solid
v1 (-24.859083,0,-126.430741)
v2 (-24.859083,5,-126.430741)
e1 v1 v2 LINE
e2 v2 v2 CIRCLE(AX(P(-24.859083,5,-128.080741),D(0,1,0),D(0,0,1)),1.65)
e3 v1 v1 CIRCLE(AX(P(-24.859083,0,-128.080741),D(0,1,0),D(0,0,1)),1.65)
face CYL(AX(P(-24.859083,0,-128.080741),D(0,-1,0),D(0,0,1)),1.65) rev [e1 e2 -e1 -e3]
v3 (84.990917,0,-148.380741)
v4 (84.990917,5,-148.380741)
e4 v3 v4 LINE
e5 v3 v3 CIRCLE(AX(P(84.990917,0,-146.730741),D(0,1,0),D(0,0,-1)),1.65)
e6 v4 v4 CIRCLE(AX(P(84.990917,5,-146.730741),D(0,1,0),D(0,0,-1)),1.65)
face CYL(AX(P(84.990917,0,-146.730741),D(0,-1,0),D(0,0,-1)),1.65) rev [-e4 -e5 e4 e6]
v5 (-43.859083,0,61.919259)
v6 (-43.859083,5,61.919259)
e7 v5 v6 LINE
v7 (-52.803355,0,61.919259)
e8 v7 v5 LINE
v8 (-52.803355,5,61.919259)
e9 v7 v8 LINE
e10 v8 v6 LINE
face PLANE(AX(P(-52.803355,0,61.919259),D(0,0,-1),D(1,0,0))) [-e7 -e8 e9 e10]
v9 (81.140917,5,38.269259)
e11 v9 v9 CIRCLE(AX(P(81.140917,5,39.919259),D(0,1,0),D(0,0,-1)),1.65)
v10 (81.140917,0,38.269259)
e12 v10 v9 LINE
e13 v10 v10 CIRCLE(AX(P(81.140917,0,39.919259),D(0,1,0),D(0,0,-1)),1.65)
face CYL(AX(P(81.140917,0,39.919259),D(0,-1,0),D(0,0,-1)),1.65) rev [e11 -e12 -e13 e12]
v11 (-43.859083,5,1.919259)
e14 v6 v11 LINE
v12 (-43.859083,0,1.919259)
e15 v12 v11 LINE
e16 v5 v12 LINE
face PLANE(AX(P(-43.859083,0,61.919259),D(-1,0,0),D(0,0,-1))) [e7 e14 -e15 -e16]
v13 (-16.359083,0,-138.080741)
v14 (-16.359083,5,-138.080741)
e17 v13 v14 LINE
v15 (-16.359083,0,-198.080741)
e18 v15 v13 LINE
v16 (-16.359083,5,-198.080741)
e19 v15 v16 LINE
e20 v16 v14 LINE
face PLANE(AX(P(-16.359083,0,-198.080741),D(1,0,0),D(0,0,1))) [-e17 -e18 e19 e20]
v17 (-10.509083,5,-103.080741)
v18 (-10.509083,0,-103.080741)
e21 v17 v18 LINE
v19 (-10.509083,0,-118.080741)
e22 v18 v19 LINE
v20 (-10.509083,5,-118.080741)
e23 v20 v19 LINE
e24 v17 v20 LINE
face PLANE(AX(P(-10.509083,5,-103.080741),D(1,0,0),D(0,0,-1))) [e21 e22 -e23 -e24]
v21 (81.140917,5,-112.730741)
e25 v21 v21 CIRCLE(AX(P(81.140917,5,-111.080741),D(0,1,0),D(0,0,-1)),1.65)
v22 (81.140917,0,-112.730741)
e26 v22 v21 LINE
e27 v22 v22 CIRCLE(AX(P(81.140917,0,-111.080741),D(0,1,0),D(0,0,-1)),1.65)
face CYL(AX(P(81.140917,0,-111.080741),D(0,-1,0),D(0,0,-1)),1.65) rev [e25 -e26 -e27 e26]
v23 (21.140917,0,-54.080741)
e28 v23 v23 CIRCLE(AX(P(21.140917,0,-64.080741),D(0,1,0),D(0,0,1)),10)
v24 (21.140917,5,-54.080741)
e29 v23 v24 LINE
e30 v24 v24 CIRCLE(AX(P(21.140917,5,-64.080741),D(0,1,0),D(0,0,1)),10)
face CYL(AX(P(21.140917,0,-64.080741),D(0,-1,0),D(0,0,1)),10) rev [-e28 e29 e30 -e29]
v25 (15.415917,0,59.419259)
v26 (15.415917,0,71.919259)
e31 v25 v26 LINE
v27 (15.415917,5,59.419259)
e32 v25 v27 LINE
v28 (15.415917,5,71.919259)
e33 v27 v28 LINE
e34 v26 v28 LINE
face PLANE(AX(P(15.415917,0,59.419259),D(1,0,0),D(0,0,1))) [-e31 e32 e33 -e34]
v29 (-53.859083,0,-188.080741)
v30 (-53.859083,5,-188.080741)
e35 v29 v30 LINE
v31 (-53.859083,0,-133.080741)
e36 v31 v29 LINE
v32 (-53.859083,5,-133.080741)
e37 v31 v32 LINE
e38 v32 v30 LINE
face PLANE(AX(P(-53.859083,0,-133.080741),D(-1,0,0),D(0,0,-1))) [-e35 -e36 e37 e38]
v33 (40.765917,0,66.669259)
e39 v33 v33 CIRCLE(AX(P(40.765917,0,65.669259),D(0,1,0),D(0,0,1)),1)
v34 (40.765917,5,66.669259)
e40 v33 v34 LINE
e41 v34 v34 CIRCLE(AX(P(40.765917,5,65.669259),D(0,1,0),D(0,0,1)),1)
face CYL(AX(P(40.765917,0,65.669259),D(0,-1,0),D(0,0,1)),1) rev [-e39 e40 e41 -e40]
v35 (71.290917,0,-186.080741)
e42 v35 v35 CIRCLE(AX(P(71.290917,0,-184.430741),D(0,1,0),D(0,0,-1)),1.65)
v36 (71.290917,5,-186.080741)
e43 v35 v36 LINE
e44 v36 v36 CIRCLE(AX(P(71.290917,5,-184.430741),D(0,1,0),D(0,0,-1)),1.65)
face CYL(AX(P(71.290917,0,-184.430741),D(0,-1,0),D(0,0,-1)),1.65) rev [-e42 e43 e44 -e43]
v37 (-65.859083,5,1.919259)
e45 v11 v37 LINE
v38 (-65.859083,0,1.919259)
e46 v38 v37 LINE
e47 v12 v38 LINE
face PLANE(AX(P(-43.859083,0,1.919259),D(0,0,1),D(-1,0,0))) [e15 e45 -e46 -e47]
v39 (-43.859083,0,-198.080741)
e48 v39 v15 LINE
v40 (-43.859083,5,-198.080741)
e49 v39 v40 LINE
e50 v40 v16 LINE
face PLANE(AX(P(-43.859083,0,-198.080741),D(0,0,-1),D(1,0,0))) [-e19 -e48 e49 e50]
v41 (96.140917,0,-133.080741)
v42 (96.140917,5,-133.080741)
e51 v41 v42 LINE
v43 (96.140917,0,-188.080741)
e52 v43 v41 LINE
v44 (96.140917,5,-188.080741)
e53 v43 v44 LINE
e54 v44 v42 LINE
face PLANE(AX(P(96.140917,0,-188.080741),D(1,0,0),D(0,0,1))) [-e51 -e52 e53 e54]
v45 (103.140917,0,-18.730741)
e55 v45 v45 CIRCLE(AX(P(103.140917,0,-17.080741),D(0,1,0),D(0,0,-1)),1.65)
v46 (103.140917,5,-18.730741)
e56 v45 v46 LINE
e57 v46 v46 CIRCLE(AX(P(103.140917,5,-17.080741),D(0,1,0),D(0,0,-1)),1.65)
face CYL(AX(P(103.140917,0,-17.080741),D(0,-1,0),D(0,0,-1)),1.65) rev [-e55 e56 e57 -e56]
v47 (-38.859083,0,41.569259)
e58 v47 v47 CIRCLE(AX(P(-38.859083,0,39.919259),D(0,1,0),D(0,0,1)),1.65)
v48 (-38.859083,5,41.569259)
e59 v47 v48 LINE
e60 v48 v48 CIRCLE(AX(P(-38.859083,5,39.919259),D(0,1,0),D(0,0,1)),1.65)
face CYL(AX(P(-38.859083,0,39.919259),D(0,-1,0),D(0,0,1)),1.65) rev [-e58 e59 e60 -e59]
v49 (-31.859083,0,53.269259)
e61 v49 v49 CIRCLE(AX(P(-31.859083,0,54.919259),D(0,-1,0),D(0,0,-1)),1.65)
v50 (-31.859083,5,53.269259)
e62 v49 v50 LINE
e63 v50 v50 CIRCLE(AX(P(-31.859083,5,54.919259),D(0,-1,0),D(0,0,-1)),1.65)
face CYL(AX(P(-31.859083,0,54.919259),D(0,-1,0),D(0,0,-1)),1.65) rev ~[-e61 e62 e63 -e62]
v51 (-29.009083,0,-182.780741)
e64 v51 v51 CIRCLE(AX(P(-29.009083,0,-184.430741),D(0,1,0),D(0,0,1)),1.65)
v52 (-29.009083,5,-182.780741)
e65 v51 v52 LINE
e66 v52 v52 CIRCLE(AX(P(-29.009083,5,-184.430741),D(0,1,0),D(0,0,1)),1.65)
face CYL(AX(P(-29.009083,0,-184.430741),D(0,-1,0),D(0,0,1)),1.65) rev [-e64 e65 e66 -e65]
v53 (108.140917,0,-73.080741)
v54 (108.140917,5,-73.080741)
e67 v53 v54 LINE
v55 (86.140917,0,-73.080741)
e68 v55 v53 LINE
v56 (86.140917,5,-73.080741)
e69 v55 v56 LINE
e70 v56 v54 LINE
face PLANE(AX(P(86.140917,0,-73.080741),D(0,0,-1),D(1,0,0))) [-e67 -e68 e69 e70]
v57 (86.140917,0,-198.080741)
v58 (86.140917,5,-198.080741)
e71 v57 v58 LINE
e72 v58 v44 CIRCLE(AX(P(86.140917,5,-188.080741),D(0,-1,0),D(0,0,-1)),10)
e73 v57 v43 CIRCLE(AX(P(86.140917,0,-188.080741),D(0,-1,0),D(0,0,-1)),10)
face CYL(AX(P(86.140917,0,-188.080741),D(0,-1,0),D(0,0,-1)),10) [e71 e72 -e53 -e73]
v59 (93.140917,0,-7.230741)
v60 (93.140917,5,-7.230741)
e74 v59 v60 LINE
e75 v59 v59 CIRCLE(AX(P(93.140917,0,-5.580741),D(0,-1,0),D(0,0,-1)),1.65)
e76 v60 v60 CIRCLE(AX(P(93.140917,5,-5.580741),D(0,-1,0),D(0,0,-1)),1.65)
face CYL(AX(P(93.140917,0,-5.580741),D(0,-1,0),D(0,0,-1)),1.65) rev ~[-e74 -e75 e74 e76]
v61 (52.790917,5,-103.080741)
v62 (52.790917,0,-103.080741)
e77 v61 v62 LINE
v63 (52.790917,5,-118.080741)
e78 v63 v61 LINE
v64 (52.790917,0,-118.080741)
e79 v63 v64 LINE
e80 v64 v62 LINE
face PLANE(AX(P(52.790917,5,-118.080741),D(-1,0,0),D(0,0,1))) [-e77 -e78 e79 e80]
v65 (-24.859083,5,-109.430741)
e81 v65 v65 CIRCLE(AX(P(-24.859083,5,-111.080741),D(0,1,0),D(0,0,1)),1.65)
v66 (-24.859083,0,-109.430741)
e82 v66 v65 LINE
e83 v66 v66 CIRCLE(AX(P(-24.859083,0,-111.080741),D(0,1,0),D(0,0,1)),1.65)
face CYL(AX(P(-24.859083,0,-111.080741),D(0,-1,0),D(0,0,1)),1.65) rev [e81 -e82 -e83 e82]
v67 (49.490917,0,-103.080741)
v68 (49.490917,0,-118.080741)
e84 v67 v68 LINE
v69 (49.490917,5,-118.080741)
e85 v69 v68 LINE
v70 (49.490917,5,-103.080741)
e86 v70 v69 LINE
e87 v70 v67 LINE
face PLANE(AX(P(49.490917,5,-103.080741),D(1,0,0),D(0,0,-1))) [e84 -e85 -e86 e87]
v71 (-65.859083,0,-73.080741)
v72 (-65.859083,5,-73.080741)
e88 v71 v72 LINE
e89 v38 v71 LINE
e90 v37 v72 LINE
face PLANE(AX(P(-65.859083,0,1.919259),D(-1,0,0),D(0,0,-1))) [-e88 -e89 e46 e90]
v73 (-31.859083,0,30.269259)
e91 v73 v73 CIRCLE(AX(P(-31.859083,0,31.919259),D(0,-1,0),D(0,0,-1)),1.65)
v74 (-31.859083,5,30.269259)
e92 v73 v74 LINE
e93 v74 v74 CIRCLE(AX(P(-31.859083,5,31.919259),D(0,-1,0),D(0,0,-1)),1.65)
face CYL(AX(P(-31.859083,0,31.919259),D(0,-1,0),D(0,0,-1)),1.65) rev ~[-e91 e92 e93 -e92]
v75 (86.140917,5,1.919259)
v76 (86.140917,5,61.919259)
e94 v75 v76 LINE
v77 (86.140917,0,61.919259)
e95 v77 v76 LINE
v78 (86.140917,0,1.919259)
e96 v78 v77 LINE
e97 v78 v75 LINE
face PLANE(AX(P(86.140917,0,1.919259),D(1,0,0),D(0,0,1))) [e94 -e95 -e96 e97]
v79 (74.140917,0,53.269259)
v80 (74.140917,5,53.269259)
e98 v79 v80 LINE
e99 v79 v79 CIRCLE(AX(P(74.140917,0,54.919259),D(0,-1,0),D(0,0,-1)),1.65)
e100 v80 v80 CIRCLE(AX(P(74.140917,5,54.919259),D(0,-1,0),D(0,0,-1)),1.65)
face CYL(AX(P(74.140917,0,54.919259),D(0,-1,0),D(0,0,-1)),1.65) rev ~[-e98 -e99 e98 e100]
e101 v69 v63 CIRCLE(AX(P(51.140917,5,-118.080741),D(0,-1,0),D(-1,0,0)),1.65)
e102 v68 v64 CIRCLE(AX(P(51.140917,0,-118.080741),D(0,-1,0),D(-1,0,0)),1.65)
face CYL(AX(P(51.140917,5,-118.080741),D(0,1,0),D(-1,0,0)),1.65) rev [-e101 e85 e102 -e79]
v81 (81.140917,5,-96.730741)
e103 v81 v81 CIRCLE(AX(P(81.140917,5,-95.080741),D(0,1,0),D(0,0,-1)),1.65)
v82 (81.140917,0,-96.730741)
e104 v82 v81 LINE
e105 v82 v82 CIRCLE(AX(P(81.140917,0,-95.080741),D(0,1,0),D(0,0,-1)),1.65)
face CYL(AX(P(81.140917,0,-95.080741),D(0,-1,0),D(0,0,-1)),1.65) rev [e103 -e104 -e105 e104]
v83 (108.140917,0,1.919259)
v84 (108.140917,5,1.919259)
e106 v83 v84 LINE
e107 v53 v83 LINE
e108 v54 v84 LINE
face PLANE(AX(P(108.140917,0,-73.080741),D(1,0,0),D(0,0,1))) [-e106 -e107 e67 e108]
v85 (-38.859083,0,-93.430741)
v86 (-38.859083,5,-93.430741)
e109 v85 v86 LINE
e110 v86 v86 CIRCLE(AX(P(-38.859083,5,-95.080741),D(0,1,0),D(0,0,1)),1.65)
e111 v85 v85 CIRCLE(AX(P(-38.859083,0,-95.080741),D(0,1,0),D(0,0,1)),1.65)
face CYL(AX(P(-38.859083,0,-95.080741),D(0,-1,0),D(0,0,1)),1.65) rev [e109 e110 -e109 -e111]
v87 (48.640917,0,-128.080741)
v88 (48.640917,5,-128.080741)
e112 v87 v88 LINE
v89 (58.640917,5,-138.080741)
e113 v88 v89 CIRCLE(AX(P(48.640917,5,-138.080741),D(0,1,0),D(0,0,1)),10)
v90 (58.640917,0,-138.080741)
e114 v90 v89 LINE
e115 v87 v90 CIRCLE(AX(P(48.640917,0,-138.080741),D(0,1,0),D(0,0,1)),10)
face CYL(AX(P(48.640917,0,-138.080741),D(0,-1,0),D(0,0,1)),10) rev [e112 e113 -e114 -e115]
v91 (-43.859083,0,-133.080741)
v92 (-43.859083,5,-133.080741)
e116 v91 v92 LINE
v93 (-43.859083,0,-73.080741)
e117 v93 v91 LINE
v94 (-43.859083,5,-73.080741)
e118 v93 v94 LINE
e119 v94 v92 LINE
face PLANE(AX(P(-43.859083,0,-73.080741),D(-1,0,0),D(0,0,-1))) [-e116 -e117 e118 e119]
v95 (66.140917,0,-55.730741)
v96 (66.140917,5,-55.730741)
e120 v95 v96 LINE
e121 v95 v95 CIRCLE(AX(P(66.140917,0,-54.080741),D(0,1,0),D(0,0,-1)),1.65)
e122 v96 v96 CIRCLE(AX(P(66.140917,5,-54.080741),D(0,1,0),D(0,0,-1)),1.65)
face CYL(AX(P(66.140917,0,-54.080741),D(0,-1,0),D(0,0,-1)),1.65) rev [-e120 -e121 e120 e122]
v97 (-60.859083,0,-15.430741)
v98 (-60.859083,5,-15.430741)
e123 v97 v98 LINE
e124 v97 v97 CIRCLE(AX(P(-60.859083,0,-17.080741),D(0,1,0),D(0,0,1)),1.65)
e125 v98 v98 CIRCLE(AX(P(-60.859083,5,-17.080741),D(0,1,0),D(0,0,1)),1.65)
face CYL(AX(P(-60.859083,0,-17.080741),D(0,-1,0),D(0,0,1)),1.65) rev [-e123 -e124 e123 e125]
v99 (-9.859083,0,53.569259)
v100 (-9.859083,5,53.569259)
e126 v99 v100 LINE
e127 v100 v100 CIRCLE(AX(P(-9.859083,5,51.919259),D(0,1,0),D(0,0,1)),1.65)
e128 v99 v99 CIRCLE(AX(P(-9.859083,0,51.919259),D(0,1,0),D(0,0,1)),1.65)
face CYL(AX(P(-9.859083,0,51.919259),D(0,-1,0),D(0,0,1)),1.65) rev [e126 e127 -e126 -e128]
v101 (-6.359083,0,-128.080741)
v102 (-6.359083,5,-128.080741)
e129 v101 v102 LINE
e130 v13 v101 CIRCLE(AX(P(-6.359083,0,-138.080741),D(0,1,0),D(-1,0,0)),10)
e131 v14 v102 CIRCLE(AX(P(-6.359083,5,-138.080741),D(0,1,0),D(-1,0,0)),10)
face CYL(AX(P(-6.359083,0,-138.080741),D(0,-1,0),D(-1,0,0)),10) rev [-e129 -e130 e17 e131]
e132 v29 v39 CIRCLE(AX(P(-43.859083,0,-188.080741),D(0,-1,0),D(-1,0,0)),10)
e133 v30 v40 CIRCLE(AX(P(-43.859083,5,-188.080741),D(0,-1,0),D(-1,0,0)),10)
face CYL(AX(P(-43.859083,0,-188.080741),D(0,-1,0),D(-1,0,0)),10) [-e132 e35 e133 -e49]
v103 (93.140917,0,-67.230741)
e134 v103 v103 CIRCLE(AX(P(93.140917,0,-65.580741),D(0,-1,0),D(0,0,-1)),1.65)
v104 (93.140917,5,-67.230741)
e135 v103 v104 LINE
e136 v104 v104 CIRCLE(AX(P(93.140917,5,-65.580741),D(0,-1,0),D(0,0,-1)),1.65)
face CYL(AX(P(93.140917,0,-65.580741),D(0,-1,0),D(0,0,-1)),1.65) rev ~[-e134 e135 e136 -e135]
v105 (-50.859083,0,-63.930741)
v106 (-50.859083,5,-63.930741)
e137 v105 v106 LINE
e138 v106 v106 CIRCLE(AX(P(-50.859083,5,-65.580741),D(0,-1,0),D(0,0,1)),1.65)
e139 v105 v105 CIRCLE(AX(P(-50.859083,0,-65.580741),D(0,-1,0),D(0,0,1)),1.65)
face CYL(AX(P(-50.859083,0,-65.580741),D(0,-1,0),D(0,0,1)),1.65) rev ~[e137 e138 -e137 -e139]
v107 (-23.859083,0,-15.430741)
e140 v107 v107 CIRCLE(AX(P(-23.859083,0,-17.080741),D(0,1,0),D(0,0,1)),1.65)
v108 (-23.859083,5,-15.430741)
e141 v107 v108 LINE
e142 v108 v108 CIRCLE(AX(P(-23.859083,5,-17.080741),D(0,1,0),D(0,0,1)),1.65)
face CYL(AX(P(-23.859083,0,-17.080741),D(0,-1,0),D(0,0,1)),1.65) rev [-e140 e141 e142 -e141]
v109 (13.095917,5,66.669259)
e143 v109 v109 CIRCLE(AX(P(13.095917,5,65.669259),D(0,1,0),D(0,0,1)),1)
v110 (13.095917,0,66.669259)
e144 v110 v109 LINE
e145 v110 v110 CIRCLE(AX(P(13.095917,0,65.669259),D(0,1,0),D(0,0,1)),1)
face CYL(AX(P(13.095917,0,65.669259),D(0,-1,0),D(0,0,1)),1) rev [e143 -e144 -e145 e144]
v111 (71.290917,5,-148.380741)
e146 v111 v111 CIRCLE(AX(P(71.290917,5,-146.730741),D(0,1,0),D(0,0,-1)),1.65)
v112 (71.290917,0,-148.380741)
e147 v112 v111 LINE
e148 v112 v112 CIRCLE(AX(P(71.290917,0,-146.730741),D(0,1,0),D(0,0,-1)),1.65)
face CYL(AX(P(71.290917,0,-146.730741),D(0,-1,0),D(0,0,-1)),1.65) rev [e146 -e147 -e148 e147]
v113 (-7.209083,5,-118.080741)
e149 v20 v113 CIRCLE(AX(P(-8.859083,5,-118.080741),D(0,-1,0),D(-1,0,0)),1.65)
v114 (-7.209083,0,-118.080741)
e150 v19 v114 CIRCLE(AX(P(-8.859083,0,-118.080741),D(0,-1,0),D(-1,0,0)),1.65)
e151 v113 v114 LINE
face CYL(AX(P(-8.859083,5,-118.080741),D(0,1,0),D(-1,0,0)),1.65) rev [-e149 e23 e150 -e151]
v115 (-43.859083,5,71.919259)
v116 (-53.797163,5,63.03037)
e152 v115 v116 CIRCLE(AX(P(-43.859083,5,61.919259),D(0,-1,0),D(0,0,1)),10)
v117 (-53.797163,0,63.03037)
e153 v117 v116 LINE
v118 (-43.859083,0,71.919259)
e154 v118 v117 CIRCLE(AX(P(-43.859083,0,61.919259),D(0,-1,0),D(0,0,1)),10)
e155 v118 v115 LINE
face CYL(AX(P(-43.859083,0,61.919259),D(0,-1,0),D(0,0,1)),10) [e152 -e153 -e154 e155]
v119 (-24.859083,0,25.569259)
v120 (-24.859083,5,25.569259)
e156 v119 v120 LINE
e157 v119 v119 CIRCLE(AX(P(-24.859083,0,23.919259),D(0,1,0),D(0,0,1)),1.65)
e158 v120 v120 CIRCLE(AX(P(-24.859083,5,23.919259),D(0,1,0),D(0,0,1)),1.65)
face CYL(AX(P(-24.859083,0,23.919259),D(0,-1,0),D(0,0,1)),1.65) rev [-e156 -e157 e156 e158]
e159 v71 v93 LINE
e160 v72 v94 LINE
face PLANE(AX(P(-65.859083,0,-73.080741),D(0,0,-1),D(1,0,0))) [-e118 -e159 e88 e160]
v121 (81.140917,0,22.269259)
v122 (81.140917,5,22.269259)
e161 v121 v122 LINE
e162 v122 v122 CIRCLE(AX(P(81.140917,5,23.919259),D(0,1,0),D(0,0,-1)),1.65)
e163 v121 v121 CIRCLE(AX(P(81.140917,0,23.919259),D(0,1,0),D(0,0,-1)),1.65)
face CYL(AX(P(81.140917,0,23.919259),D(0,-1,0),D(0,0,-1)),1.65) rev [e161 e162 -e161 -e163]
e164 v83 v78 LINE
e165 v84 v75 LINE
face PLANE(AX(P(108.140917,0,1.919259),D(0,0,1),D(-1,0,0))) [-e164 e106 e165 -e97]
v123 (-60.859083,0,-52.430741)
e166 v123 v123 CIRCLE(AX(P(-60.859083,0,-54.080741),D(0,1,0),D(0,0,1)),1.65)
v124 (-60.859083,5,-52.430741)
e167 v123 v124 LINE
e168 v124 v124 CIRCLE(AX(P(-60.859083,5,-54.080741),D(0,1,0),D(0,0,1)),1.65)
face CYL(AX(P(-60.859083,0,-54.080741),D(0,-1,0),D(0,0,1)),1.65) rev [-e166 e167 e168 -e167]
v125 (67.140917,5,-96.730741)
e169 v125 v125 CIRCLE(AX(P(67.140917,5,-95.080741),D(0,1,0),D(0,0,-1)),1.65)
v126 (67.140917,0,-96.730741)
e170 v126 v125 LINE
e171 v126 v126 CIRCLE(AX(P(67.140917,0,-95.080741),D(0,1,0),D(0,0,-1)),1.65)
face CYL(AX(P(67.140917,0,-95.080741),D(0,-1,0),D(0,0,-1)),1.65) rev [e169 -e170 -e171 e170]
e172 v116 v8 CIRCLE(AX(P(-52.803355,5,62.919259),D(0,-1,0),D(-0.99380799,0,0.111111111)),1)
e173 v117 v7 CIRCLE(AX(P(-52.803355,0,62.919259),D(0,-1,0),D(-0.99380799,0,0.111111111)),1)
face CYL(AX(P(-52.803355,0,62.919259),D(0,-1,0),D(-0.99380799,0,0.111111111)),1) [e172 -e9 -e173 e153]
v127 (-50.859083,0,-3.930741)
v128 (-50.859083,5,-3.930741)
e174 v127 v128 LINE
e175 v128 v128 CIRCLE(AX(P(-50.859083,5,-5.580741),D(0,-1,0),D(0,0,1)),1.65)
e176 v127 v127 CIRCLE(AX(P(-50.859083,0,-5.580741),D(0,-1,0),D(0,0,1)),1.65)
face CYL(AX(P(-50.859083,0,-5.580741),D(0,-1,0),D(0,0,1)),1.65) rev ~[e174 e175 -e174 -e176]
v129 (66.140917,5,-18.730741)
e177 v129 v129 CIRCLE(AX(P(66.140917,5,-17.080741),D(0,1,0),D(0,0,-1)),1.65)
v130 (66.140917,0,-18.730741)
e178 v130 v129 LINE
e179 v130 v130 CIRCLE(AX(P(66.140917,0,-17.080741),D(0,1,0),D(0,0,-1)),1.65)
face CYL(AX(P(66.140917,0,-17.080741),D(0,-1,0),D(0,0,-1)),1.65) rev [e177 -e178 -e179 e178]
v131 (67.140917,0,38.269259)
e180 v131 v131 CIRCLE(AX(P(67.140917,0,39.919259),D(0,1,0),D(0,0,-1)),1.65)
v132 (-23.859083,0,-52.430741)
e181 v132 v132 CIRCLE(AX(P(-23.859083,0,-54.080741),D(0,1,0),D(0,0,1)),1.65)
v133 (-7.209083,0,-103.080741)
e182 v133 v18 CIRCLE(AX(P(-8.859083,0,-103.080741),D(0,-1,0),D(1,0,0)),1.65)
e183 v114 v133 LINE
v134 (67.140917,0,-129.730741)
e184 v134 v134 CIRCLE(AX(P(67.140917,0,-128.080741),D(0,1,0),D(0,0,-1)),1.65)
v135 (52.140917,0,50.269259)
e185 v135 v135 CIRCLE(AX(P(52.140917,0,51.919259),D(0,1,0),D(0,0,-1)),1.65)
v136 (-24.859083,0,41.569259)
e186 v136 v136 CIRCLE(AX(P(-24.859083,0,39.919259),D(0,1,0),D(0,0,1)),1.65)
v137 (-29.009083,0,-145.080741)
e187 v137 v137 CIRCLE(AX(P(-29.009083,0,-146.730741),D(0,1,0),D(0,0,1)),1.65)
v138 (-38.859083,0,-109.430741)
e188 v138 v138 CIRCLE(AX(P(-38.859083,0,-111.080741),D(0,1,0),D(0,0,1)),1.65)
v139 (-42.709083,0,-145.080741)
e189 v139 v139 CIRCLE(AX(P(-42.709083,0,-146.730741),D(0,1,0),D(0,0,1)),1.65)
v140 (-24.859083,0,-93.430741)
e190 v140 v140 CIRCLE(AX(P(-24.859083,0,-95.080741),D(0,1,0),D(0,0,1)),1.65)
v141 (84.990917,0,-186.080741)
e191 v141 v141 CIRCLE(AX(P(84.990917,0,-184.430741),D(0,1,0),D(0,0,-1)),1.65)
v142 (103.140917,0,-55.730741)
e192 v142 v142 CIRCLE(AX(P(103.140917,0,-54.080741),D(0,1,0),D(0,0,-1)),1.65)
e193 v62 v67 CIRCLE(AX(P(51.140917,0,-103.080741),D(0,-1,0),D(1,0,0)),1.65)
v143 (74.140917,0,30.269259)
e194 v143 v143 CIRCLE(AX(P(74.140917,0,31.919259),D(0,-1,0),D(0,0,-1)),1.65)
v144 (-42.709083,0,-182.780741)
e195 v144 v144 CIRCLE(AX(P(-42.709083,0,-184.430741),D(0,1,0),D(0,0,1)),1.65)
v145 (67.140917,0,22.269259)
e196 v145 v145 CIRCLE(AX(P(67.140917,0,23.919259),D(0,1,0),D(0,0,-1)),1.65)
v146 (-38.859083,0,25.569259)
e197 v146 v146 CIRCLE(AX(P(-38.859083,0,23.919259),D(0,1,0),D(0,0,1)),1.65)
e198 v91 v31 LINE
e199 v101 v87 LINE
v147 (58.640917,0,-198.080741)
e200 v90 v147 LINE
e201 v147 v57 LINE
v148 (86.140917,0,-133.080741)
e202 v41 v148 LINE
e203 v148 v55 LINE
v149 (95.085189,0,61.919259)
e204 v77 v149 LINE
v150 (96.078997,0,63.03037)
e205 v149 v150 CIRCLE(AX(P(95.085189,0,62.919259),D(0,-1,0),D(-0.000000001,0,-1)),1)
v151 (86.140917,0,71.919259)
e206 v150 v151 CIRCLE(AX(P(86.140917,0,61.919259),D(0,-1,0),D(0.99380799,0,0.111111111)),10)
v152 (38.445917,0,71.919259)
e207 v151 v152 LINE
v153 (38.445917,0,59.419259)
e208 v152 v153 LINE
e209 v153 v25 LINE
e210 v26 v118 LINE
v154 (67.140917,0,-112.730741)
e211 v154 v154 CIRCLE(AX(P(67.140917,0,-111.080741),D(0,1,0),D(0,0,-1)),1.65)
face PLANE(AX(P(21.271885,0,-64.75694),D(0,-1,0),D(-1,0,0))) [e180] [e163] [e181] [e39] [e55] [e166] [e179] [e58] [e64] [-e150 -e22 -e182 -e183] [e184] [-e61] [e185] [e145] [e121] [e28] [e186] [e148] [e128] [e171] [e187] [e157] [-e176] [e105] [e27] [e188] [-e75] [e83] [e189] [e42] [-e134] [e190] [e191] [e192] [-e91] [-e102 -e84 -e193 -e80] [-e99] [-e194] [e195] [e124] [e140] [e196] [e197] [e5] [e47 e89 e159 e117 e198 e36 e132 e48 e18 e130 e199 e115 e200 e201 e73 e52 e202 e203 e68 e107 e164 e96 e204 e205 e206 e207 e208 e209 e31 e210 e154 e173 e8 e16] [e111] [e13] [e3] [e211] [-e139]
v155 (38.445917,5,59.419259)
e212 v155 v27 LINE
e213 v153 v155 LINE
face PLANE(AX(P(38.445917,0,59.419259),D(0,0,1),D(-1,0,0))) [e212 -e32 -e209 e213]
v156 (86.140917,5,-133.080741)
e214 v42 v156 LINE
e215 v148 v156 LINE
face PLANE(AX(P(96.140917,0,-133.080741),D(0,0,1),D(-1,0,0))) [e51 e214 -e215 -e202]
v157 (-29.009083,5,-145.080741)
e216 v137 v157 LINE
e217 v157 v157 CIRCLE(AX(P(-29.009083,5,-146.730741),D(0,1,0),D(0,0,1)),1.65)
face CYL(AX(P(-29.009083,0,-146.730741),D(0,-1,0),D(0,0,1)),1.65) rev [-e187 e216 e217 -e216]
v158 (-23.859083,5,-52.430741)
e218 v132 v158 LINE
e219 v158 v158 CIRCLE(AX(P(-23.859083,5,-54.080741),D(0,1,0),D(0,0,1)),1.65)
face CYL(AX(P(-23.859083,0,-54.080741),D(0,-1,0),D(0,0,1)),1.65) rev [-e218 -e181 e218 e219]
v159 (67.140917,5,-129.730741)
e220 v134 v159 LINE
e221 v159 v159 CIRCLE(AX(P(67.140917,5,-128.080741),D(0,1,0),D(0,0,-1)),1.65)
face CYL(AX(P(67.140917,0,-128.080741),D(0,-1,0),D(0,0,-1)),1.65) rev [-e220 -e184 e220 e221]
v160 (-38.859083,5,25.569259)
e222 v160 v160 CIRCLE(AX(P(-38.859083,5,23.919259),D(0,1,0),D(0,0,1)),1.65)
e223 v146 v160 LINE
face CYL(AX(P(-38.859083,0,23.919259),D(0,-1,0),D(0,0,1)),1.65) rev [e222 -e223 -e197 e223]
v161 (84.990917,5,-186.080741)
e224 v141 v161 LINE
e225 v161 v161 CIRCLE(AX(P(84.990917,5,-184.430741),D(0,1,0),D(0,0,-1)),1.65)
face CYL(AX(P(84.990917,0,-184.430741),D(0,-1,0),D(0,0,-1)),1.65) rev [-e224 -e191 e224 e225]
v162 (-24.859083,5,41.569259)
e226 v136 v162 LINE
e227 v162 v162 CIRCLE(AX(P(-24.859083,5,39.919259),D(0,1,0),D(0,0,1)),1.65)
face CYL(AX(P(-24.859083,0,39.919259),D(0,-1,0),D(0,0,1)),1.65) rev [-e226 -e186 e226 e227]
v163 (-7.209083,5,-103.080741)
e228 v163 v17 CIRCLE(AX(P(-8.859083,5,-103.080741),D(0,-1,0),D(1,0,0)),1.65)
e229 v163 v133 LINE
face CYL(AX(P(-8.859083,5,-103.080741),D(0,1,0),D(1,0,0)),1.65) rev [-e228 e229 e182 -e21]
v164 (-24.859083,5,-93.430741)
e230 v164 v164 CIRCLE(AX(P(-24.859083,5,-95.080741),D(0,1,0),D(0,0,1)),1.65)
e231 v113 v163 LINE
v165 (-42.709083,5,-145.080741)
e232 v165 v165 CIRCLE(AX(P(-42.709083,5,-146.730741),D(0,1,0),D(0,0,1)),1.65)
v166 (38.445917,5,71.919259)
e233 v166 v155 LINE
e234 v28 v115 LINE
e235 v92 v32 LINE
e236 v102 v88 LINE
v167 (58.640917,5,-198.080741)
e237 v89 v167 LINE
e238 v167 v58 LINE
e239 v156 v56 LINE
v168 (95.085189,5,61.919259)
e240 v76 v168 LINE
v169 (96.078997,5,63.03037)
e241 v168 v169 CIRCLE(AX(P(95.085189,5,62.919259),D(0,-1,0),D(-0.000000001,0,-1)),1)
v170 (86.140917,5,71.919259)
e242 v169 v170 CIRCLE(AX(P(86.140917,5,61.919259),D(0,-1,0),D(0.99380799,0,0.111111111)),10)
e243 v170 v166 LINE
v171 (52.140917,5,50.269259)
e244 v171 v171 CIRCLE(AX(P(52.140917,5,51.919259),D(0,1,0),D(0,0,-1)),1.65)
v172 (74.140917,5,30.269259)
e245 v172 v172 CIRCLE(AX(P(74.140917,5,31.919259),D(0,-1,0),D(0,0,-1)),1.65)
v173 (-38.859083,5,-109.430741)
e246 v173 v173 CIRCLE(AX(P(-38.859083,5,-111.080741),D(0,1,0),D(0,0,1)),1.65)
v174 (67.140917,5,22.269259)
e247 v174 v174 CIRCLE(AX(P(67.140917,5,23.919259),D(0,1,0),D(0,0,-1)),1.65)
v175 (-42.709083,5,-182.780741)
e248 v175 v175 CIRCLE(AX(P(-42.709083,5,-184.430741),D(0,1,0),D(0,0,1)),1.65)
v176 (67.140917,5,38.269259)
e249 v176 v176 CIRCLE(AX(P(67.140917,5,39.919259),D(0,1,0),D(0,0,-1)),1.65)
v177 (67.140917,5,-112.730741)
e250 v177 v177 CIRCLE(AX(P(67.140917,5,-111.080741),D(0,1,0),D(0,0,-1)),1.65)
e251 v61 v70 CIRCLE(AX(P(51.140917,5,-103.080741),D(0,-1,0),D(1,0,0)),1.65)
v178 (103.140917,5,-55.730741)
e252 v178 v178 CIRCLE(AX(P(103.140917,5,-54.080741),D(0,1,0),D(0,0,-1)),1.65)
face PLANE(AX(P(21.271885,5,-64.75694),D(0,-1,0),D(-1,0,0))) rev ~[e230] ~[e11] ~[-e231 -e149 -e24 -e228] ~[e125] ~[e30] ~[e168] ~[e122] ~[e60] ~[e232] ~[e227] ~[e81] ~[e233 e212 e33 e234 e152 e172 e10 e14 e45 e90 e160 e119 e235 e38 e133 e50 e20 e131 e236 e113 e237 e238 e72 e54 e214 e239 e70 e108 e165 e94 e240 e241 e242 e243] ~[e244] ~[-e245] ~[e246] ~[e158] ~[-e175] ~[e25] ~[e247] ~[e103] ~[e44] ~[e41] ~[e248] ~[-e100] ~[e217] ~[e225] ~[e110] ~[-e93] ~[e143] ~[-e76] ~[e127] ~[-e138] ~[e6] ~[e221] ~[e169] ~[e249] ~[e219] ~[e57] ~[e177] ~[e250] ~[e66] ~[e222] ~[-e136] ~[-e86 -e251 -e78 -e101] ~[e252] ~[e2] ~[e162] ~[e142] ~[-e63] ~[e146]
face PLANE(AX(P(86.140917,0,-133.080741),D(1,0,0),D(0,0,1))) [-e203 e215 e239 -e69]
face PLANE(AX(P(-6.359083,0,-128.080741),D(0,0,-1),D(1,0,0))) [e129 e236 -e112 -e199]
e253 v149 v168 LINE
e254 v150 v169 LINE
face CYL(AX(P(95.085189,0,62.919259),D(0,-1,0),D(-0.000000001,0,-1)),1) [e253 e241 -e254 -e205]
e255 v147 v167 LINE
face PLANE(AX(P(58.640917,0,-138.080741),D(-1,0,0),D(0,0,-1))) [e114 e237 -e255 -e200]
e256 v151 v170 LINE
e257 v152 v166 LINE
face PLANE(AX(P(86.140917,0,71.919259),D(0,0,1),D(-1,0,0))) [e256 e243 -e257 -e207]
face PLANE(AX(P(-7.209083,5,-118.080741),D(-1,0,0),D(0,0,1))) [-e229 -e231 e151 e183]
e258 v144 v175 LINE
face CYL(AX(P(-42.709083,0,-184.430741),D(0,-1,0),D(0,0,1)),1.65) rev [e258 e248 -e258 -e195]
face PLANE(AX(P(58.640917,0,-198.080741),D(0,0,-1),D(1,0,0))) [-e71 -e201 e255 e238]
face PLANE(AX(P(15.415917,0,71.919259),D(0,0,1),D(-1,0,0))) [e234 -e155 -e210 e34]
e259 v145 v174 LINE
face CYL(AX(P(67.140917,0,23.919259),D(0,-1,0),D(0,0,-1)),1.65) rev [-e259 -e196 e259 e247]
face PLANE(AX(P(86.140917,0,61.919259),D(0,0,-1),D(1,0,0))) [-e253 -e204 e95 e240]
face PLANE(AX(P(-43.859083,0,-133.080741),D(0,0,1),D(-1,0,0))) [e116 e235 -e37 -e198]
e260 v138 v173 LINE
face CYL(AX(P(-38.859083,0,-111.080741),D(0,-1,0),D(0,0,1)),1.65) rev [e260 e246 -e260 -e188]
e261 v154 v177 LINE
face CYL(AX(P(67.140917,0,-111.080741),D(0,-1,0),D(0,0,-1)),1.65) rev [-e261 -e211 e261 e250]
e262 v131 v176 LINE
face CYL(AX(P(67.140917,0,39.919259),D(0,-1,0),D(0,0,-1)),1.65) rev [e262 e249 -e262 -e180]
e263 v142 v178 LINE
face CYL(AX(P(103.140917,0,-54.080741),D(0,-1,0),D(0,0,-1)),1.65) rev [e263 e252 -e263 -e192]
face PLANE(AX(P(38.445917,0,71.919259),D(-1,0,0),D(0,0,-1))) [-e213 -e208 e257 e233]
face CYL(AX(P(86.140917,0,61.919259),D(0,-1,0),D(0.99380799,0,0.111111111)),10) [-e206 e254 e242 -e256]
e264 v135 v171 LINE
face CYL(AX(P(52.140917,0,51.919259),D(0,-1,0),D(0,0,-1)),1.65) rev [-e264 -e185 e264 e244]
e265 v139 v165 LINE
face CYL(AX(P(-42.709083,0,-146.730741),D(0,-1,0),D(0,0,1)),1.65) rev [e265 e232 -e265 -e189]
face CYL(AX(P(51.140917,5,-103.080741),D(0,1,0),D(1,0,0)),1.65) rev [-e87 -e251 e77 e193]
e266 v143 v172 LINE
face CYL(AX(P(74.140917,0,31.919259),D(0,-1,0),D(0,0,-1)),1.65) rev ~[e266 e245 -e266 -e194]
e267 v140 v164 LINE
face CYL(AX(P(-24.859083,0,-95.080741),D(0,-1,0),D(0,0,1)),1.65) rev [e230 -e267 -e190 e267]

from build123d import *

# Parameters (mm, degrees)
SKETCH_1_R          = 1
SKETCH_1_R_2        = 1.65
SKETCH_1_R_3        = 10
EXTRUDE_2_DEPTH     = 5
CUT_EXTRUDE_1_DEPTH = 5
SKETCH_4_R          = 1.65
CUT_EXTRUDE_3_DEPTH = 5
SKETCH_5_R          = 1.65
CUT_EXTRUDE_4_DEPTH = 5


with BuildPart() as part:
    # 草图1 → 凸台-拉伸2 (new body)
    with BuildSketch(Plane(origin=(0, 0, 0), x_dir=(1, 0, 0), z_dir=(0, 1, 0))):
        with BuildLine():
            Line((-43.8590831, 198.080740626), (-16.3590831, 198.080740626))
            Line((-16.3590831, 198.080740626), (-16.3590831, 138.080740626))
            ThreePointArc((-16.3590831, 138.080740626), (-13.430150911, 131.009672814), (-6.3590831, 128.080740626))
            Line((-6.3590831, 128.080740626), (48.6409169, 128.080740626))
            ThreePointArc((48.6409169, 128.080740626), (55.711984712, 131.009672814), (58.6409169, 138.080740626))
            Line((58.6409169, 138.080740626), (58.6409169, 198.080740626))
            Line((58.6409169, 198.080740626), (86.1409169, 198.080740626))
            ThreePointArc((86.1409169, 198.080740626), (93.211984712, 195.151808438), (96.1409169, 188.080740626))
            Line((96.1409169, 188.080740626), (96.1409169, 133.080740626))
            Line((96.1409169, 133.080740626), (86.1409169, 133.080740626))
            Line((86.1409169, 133.080740626), (86.1409169, 73.080740626))
            Line((86.1409169, 73.080740626), (108.1409169, 73.080740626))
            Line((108.1409169, 73.080740626), (108.1409169, -1.919259374))
            Line((108.1409169, -1.919259374), (86.1409169, -1.919259374))
            Line((86.1409169, -1.919259374), (86.1409169, -61.919259374))
            Line((86.1409169, -61.919259374), (95.08518881, -61.919259374))
            ThreePointArc((95.08518881, -61.919259374), (95.830544803, -62.252592707), (96.0789968, -63.030370485))
            ThreePointArc((96.0789968, -63.030370485), (92.807583567, -69.372819299), (86.1409169, -71.919259374))
            Line((86.1409169, -71.919259374), (38.4459169, -71.919259374))
            Line((38.4459169, -71.919259374), (38.4459169, -59.419259374))
            Line((38.4459169, -59.419259374), (15.4159169, -59.419259374))
            Line((15.4159169, -59.419259374), (15.4159169, -71.919259374))
            Line((15.4159169, -71.919259374), (-43.8590831, -71.919259374))
            ThreePointArc((-43.8590831, -71.919259374), (-50.525749766, -69.372819299), (-53.797163, -63.030370485))
            ThreePointArc((-53.797163, -63.030370485), (-53.548711002, -62.252592707), (-52.80335501, -61.919259374))
            Line((-52.80335501, -61.919259374), (-43.8590831, -61.919259374))
            Line((-43.8590831, -61.919259374), (-43.8590831, -1.919259374))
            Line((-43.8590831, -1.919259374), (-65.8590831, -1.919259374))
            Line((-65.8590831, -1.919259374), (-65.8590831, 73.080740626))
            Line((-65.8590831, 73.080740626), (-43.8590831, 73.080740626))
            Line((-43.8590831, 73.080740626), (-43.8590831, 133.080740626))
            Line((-43.8590831, 133.080740626), (-53.8590831, 133.080740626))
            Line((-53.8590831, 133.080740626), (-53.8590831, 188.080740626))
            ThreePointArc((-53.8590831, 188.080740626), (-50.930150911, 195.151808438), (-43.8590831, 198.080740626))
        make_face()
        with Locations(Location((13.0959169, -65.669259374, 0), (0, 0, 270))):
            Circle(SKETCH_1_R, mode=Mode.SUBTRACT)
        with Locations(Location((40.7659169, -65.669259374, 0), (0, 0, 270))):
            Circle(SKETCH_1_R, mode=Mode.SUBTRACT)
        with Locations(Location((66.1409169, 17.080740626, 0), (0, 0, 90))):
            Circle(SKETCH_1_R_2, mode=Mode.SUBTRACT)
        with Locations(Location((-60.8590831, 54.080740626, 0), (0, 0, 270))):
            Circle(SKETCH_1_R_2, mode=Mode.SUBTRACT)
        with Locations(Location((-23.8590831, 54.080740626, 0), (0, 0, 270))):
            Circle(SKETCH_1_R_2, mode=Mode.SUBTRACT)
        with Locations(Location((-23.8590831, 17.080740626, 0), (0, 0, 270))):
            Circle(SKETCH_1_R_2, mode=Mode.SUBTRACT)
        with Locations(Location((-60.8590831, 17.080740626, 0), (0, 0, 270))):
            Circle(SKETCH_1_R_2, mode=Mode.SUBTRACT)
        with Locations(Location((103.1409169, 17.080740626, 0), (0, 0, 90))):
            Circle(SKETCH_1_R_2, mode=Mode.SUBTRACT)
        with Locations(Location((103.1409169, 54.080740626, 0), (0, 0, 90))):
            Circle(SKETCH_1_R_2, mode=Mode.SUBTRACT)
        with Locations(Location((66.1409169, 54.080740626, 0), (0, 0, 90))):
            Circle(SKETCH_1_R_2, mode=Mode.SUBTRACT)
        with Locations(Location((-38.8590831, 111.080740626, 0), (0, 0, 270))):
            Circle(SKETCH_1_R_2, mode=Mode.SUBTRACT)
        with Locations(Location((-24.8590831, 111.080740626, 0), (0, 0, 270))):
            Circle(SKETCH_1_R_2, mode=Mode.SUBTRACT)
        with Locations(Location((-24.8590831, 95.080740626, 0), (0, 0, 270))):
            Circle(SKETCH_1_R_2, mode=Mode.SUBTRACT)
        with Locations(Location((-38.8590831, 95.080740626, 0), (0, 0, 270))):
            Circle(SKETCH_1_R_2, mode=Mode.SUBTRACT)
        with Locations(Location((-38.8590831, -23.919259374, 0), (0, 0, 270))):
            Circle(SKETCH_1_R_2, mode=Mode.SUBTRACT)
        with Locations(Location((-24.8590831, -23.919259374, 0), (0, 0, 270))):
            Circle(SKETCH_1_R_2, mode=Mode.SUBTRACT)
        with Locations(Location((-38.8590831, -39.919259374, 0), (0, 0, 270))):
            Circle(SKETCH_1_R_2, mode=Mode.SUBTRACT)
        with Locations(Location((-24.8590831, -39.919259374, 0), (0, 0, 270))):
            Circle(SKETCH_1_R_2, mode=Mode.SUBTRACT)
        with Locations(Location((-29.0090831, 184.430740626, 0), (0, 0, 270))):
            Circle(SKETCH_1_R_2, mode=Mode.SUBTRACT)
        with Locations(Location((-42.7090831, 184.430740626, 0), (0, 0, 270))):
            Circle(SKETCH_1_R_2, mode=Mode.SUBTRACT)
        with Locations(Location((-42.7090831, 146.730740626, 0), (0, 0, 270))):
            Circle(SKETCH_1_R_2, mode=Mode.SUBTRACT)
        with Locations(Location((-29.0090831, 146.730740626, 0), (0, 0, 270))):
            Circle(SKETCH_1_R_2, mode=Mode.SUBTRACT)
        with Locations(Location((-24.8590831, 128.080740626, 0), (0, 0, 270))):
            Circle(SKETCH_1_R_2, mode=Mode.SUBTRACT)
        with Locations(Location((-9.8590831, -51.919259374, 0), (0, 0, 270))):
            Circle(SKETCH_1_R_2, mode=Mode.SUBTRACT)
        with Locations(Location((52.1409169, -51.919259374, 0), (0, 0, 90))):
            Circle(SKETCH_1_R_2, mode=Mode.SUBTRACT)
        with Locations(Location((67.1409169, -39.919259374, 0), (0, 0, 90))):
            Circle(SKETCH_1_R_2, mode=Mode.SUBTRACT)
        with Locations(Location((81.1409169, -39.919259374, 0), (0, 0, 90))):
            Circle(SKETCH_1_R_2, mode=Mode.SUBTRACT)
        with Locations(Location((67.1409169, -23.919259374, 0), (0, 0, 90))):
            Circle(SKETCH_1_R_2, mode=Mode.SUBTRACT)
        with Locations(Location((81.1409169, -23.919259374, 0), (0, 0, 90))):
            Circle(SKETCH_1_R_2, mode=Mode.SUBTRACT)
        with Locations(Location((81.1409169, 95.080740626, 0), (0, 0, 90))):
            Circle(SKETCH_1_R_2, mode=Mode.SUBTRACT)
        with Locations(Location((67.1409169, 95.080740626, 0), (0, 0, 90))):
            Circle(SKETCH_1_R_2, mode=Mode.SUBTRACT)
        with Locations(Location((67.1409169, 111.080740626, 0), (0, 0, 90))):
            Circle(SKETCH_1_R_2, mode=Mode.SUBTRACT)
        with Locations(Location((81.1409169, 111.080740626, 0), (0, 0, 90))):
            Circle(SKETCH_1_R_2, mode=Mode.SUBTRACT)
        with Locations(Location((67.1409169, 128.080740626, 0), (0, 0, 90))):
            Circle(SKETCH_1_R_2, mode=Mode.SUBTRACT)
        with Locations(Location((71.2909169, 146.730740626, 0), (0, 0, 90))):
            Circle(SKETCH_1_R_2, mode=Mode.SUBTRACT)
        with Locations(Location((84.9909169, 146.730740626, 0), (0, 0, 90))):
            Circle(SKETCH_1_R_2, mode=Mode.SUBTRACT)
        with Locations(Location((84.9909169, 184.430740626, 0), (0, 0, 90))):
            Circle(SKETCH_1_R_2, mode=Mode.SUBTRACT)
        with Locations(Location((71.2909169, 184.430740626, 0), (0, 0, 90))):
            Circle(SKETCH_1_R_2, mode=Mode.SUBTRACT)
        with Locations(Location((21.1409169, 64.080740626, 0), (0, 0, 270))):
            Circle(SKETCH_1_R_3, mode=Mode.SUBTRACT)
    extrude(amount=EXTRUDE_2_DEPTH)

    # 草图2 → 切除-拉伸1 (cut)
    with BuildSketch(Plane(origin=(0, 5, 0), x_dir=(1, 0, 0), z_dir=(0, 1, 0))):
        with BuildLine():
            Line((52.7909169, 118.080740626), (52.7909169, 103.080740626))
            ThreePointArc((52.7909169, 103.080740626), (51.1409169, 101.430740626), (49.4909169, 103.080740626))
            Line((49.4909169, 103.080740626), (49.4909169, 118.080740626))
            ThreePointArc((49.4909169, 118.080740626), (51.1409169, 119.730740626), (52.7909169, 118.080740626))
        make_face()
        with BuildLine():
            Line((-7.2090831, 118.080740626), (-7.2090831, 103.080740626))
            ThreePointArc((-7.2090831, 103.080740626), (-8.8590831, 101.430740626), (-10.5090831, 103.080740626))
            Line((-10.5090831, 103.080740626), (-10.5090831, 118.080740626))
            ThreePointArc((-10.5090831, 118.080740626), (-8.8590831, 119.730740626), (-7.2090831, 118.080740626))
        make_face()
    extrude(amount=-CUT_EXTRUDE_1_DEPTH, mode=Mode.SUBTRACT)

    # 草图4 → 切除-拉伸3 (cut)
    with BuildSketch(Plane.XZ):
        with Locations(Location((-31.8590831, 31.919259374, 0), (0, 0, 270))):
            Circle(SKETCH_4_R)
        with Locations(Location((-31.8590831, 54.919259374, 0), (0, 0, 270))):
            Circle(SKETCH_4_R)
        with Locations(Location((74.1409169, 31.919259374, 0), (0, 0, 270))):
            Circle(SKETCH_4_R)
        with Locations(Location((74.1409169, 54.919259374, 0), (0, 0, 270))):
            Circle(SKETCH_4_R)
    extrude(amount=-CUT_EXTRUDE_3_DEPTH, mode=Mode.SUBTRACT)

    # 草图5 → 切除-拉伸4 (cut)
    with BuildSketch(Plane.XZ):
        with Locations(Location((93.1409169, -65.580740626, 0), (0, 0, 270))):
            Circle(SKETCH_5_R)
        with Locations(Location((93.1409169, -5.580740626, 0), (0, 0, 270))):
            Circle(SKETCH_5_R)
        with Locations(Location((-50.8590831, -5.580740626, 0), (0, 0, 90))):
            Circle(SKETCH_5_R)
        with Locations(Location((-50.8590831, -65.580740626, 0), (0, 0, 90))):
            Circle(SKETCH_5_R)
    extrude(amount=-CUT_EXTRUDE_4_DEPTH, mode=Mode.SUBTRACT)


solid = part.part
